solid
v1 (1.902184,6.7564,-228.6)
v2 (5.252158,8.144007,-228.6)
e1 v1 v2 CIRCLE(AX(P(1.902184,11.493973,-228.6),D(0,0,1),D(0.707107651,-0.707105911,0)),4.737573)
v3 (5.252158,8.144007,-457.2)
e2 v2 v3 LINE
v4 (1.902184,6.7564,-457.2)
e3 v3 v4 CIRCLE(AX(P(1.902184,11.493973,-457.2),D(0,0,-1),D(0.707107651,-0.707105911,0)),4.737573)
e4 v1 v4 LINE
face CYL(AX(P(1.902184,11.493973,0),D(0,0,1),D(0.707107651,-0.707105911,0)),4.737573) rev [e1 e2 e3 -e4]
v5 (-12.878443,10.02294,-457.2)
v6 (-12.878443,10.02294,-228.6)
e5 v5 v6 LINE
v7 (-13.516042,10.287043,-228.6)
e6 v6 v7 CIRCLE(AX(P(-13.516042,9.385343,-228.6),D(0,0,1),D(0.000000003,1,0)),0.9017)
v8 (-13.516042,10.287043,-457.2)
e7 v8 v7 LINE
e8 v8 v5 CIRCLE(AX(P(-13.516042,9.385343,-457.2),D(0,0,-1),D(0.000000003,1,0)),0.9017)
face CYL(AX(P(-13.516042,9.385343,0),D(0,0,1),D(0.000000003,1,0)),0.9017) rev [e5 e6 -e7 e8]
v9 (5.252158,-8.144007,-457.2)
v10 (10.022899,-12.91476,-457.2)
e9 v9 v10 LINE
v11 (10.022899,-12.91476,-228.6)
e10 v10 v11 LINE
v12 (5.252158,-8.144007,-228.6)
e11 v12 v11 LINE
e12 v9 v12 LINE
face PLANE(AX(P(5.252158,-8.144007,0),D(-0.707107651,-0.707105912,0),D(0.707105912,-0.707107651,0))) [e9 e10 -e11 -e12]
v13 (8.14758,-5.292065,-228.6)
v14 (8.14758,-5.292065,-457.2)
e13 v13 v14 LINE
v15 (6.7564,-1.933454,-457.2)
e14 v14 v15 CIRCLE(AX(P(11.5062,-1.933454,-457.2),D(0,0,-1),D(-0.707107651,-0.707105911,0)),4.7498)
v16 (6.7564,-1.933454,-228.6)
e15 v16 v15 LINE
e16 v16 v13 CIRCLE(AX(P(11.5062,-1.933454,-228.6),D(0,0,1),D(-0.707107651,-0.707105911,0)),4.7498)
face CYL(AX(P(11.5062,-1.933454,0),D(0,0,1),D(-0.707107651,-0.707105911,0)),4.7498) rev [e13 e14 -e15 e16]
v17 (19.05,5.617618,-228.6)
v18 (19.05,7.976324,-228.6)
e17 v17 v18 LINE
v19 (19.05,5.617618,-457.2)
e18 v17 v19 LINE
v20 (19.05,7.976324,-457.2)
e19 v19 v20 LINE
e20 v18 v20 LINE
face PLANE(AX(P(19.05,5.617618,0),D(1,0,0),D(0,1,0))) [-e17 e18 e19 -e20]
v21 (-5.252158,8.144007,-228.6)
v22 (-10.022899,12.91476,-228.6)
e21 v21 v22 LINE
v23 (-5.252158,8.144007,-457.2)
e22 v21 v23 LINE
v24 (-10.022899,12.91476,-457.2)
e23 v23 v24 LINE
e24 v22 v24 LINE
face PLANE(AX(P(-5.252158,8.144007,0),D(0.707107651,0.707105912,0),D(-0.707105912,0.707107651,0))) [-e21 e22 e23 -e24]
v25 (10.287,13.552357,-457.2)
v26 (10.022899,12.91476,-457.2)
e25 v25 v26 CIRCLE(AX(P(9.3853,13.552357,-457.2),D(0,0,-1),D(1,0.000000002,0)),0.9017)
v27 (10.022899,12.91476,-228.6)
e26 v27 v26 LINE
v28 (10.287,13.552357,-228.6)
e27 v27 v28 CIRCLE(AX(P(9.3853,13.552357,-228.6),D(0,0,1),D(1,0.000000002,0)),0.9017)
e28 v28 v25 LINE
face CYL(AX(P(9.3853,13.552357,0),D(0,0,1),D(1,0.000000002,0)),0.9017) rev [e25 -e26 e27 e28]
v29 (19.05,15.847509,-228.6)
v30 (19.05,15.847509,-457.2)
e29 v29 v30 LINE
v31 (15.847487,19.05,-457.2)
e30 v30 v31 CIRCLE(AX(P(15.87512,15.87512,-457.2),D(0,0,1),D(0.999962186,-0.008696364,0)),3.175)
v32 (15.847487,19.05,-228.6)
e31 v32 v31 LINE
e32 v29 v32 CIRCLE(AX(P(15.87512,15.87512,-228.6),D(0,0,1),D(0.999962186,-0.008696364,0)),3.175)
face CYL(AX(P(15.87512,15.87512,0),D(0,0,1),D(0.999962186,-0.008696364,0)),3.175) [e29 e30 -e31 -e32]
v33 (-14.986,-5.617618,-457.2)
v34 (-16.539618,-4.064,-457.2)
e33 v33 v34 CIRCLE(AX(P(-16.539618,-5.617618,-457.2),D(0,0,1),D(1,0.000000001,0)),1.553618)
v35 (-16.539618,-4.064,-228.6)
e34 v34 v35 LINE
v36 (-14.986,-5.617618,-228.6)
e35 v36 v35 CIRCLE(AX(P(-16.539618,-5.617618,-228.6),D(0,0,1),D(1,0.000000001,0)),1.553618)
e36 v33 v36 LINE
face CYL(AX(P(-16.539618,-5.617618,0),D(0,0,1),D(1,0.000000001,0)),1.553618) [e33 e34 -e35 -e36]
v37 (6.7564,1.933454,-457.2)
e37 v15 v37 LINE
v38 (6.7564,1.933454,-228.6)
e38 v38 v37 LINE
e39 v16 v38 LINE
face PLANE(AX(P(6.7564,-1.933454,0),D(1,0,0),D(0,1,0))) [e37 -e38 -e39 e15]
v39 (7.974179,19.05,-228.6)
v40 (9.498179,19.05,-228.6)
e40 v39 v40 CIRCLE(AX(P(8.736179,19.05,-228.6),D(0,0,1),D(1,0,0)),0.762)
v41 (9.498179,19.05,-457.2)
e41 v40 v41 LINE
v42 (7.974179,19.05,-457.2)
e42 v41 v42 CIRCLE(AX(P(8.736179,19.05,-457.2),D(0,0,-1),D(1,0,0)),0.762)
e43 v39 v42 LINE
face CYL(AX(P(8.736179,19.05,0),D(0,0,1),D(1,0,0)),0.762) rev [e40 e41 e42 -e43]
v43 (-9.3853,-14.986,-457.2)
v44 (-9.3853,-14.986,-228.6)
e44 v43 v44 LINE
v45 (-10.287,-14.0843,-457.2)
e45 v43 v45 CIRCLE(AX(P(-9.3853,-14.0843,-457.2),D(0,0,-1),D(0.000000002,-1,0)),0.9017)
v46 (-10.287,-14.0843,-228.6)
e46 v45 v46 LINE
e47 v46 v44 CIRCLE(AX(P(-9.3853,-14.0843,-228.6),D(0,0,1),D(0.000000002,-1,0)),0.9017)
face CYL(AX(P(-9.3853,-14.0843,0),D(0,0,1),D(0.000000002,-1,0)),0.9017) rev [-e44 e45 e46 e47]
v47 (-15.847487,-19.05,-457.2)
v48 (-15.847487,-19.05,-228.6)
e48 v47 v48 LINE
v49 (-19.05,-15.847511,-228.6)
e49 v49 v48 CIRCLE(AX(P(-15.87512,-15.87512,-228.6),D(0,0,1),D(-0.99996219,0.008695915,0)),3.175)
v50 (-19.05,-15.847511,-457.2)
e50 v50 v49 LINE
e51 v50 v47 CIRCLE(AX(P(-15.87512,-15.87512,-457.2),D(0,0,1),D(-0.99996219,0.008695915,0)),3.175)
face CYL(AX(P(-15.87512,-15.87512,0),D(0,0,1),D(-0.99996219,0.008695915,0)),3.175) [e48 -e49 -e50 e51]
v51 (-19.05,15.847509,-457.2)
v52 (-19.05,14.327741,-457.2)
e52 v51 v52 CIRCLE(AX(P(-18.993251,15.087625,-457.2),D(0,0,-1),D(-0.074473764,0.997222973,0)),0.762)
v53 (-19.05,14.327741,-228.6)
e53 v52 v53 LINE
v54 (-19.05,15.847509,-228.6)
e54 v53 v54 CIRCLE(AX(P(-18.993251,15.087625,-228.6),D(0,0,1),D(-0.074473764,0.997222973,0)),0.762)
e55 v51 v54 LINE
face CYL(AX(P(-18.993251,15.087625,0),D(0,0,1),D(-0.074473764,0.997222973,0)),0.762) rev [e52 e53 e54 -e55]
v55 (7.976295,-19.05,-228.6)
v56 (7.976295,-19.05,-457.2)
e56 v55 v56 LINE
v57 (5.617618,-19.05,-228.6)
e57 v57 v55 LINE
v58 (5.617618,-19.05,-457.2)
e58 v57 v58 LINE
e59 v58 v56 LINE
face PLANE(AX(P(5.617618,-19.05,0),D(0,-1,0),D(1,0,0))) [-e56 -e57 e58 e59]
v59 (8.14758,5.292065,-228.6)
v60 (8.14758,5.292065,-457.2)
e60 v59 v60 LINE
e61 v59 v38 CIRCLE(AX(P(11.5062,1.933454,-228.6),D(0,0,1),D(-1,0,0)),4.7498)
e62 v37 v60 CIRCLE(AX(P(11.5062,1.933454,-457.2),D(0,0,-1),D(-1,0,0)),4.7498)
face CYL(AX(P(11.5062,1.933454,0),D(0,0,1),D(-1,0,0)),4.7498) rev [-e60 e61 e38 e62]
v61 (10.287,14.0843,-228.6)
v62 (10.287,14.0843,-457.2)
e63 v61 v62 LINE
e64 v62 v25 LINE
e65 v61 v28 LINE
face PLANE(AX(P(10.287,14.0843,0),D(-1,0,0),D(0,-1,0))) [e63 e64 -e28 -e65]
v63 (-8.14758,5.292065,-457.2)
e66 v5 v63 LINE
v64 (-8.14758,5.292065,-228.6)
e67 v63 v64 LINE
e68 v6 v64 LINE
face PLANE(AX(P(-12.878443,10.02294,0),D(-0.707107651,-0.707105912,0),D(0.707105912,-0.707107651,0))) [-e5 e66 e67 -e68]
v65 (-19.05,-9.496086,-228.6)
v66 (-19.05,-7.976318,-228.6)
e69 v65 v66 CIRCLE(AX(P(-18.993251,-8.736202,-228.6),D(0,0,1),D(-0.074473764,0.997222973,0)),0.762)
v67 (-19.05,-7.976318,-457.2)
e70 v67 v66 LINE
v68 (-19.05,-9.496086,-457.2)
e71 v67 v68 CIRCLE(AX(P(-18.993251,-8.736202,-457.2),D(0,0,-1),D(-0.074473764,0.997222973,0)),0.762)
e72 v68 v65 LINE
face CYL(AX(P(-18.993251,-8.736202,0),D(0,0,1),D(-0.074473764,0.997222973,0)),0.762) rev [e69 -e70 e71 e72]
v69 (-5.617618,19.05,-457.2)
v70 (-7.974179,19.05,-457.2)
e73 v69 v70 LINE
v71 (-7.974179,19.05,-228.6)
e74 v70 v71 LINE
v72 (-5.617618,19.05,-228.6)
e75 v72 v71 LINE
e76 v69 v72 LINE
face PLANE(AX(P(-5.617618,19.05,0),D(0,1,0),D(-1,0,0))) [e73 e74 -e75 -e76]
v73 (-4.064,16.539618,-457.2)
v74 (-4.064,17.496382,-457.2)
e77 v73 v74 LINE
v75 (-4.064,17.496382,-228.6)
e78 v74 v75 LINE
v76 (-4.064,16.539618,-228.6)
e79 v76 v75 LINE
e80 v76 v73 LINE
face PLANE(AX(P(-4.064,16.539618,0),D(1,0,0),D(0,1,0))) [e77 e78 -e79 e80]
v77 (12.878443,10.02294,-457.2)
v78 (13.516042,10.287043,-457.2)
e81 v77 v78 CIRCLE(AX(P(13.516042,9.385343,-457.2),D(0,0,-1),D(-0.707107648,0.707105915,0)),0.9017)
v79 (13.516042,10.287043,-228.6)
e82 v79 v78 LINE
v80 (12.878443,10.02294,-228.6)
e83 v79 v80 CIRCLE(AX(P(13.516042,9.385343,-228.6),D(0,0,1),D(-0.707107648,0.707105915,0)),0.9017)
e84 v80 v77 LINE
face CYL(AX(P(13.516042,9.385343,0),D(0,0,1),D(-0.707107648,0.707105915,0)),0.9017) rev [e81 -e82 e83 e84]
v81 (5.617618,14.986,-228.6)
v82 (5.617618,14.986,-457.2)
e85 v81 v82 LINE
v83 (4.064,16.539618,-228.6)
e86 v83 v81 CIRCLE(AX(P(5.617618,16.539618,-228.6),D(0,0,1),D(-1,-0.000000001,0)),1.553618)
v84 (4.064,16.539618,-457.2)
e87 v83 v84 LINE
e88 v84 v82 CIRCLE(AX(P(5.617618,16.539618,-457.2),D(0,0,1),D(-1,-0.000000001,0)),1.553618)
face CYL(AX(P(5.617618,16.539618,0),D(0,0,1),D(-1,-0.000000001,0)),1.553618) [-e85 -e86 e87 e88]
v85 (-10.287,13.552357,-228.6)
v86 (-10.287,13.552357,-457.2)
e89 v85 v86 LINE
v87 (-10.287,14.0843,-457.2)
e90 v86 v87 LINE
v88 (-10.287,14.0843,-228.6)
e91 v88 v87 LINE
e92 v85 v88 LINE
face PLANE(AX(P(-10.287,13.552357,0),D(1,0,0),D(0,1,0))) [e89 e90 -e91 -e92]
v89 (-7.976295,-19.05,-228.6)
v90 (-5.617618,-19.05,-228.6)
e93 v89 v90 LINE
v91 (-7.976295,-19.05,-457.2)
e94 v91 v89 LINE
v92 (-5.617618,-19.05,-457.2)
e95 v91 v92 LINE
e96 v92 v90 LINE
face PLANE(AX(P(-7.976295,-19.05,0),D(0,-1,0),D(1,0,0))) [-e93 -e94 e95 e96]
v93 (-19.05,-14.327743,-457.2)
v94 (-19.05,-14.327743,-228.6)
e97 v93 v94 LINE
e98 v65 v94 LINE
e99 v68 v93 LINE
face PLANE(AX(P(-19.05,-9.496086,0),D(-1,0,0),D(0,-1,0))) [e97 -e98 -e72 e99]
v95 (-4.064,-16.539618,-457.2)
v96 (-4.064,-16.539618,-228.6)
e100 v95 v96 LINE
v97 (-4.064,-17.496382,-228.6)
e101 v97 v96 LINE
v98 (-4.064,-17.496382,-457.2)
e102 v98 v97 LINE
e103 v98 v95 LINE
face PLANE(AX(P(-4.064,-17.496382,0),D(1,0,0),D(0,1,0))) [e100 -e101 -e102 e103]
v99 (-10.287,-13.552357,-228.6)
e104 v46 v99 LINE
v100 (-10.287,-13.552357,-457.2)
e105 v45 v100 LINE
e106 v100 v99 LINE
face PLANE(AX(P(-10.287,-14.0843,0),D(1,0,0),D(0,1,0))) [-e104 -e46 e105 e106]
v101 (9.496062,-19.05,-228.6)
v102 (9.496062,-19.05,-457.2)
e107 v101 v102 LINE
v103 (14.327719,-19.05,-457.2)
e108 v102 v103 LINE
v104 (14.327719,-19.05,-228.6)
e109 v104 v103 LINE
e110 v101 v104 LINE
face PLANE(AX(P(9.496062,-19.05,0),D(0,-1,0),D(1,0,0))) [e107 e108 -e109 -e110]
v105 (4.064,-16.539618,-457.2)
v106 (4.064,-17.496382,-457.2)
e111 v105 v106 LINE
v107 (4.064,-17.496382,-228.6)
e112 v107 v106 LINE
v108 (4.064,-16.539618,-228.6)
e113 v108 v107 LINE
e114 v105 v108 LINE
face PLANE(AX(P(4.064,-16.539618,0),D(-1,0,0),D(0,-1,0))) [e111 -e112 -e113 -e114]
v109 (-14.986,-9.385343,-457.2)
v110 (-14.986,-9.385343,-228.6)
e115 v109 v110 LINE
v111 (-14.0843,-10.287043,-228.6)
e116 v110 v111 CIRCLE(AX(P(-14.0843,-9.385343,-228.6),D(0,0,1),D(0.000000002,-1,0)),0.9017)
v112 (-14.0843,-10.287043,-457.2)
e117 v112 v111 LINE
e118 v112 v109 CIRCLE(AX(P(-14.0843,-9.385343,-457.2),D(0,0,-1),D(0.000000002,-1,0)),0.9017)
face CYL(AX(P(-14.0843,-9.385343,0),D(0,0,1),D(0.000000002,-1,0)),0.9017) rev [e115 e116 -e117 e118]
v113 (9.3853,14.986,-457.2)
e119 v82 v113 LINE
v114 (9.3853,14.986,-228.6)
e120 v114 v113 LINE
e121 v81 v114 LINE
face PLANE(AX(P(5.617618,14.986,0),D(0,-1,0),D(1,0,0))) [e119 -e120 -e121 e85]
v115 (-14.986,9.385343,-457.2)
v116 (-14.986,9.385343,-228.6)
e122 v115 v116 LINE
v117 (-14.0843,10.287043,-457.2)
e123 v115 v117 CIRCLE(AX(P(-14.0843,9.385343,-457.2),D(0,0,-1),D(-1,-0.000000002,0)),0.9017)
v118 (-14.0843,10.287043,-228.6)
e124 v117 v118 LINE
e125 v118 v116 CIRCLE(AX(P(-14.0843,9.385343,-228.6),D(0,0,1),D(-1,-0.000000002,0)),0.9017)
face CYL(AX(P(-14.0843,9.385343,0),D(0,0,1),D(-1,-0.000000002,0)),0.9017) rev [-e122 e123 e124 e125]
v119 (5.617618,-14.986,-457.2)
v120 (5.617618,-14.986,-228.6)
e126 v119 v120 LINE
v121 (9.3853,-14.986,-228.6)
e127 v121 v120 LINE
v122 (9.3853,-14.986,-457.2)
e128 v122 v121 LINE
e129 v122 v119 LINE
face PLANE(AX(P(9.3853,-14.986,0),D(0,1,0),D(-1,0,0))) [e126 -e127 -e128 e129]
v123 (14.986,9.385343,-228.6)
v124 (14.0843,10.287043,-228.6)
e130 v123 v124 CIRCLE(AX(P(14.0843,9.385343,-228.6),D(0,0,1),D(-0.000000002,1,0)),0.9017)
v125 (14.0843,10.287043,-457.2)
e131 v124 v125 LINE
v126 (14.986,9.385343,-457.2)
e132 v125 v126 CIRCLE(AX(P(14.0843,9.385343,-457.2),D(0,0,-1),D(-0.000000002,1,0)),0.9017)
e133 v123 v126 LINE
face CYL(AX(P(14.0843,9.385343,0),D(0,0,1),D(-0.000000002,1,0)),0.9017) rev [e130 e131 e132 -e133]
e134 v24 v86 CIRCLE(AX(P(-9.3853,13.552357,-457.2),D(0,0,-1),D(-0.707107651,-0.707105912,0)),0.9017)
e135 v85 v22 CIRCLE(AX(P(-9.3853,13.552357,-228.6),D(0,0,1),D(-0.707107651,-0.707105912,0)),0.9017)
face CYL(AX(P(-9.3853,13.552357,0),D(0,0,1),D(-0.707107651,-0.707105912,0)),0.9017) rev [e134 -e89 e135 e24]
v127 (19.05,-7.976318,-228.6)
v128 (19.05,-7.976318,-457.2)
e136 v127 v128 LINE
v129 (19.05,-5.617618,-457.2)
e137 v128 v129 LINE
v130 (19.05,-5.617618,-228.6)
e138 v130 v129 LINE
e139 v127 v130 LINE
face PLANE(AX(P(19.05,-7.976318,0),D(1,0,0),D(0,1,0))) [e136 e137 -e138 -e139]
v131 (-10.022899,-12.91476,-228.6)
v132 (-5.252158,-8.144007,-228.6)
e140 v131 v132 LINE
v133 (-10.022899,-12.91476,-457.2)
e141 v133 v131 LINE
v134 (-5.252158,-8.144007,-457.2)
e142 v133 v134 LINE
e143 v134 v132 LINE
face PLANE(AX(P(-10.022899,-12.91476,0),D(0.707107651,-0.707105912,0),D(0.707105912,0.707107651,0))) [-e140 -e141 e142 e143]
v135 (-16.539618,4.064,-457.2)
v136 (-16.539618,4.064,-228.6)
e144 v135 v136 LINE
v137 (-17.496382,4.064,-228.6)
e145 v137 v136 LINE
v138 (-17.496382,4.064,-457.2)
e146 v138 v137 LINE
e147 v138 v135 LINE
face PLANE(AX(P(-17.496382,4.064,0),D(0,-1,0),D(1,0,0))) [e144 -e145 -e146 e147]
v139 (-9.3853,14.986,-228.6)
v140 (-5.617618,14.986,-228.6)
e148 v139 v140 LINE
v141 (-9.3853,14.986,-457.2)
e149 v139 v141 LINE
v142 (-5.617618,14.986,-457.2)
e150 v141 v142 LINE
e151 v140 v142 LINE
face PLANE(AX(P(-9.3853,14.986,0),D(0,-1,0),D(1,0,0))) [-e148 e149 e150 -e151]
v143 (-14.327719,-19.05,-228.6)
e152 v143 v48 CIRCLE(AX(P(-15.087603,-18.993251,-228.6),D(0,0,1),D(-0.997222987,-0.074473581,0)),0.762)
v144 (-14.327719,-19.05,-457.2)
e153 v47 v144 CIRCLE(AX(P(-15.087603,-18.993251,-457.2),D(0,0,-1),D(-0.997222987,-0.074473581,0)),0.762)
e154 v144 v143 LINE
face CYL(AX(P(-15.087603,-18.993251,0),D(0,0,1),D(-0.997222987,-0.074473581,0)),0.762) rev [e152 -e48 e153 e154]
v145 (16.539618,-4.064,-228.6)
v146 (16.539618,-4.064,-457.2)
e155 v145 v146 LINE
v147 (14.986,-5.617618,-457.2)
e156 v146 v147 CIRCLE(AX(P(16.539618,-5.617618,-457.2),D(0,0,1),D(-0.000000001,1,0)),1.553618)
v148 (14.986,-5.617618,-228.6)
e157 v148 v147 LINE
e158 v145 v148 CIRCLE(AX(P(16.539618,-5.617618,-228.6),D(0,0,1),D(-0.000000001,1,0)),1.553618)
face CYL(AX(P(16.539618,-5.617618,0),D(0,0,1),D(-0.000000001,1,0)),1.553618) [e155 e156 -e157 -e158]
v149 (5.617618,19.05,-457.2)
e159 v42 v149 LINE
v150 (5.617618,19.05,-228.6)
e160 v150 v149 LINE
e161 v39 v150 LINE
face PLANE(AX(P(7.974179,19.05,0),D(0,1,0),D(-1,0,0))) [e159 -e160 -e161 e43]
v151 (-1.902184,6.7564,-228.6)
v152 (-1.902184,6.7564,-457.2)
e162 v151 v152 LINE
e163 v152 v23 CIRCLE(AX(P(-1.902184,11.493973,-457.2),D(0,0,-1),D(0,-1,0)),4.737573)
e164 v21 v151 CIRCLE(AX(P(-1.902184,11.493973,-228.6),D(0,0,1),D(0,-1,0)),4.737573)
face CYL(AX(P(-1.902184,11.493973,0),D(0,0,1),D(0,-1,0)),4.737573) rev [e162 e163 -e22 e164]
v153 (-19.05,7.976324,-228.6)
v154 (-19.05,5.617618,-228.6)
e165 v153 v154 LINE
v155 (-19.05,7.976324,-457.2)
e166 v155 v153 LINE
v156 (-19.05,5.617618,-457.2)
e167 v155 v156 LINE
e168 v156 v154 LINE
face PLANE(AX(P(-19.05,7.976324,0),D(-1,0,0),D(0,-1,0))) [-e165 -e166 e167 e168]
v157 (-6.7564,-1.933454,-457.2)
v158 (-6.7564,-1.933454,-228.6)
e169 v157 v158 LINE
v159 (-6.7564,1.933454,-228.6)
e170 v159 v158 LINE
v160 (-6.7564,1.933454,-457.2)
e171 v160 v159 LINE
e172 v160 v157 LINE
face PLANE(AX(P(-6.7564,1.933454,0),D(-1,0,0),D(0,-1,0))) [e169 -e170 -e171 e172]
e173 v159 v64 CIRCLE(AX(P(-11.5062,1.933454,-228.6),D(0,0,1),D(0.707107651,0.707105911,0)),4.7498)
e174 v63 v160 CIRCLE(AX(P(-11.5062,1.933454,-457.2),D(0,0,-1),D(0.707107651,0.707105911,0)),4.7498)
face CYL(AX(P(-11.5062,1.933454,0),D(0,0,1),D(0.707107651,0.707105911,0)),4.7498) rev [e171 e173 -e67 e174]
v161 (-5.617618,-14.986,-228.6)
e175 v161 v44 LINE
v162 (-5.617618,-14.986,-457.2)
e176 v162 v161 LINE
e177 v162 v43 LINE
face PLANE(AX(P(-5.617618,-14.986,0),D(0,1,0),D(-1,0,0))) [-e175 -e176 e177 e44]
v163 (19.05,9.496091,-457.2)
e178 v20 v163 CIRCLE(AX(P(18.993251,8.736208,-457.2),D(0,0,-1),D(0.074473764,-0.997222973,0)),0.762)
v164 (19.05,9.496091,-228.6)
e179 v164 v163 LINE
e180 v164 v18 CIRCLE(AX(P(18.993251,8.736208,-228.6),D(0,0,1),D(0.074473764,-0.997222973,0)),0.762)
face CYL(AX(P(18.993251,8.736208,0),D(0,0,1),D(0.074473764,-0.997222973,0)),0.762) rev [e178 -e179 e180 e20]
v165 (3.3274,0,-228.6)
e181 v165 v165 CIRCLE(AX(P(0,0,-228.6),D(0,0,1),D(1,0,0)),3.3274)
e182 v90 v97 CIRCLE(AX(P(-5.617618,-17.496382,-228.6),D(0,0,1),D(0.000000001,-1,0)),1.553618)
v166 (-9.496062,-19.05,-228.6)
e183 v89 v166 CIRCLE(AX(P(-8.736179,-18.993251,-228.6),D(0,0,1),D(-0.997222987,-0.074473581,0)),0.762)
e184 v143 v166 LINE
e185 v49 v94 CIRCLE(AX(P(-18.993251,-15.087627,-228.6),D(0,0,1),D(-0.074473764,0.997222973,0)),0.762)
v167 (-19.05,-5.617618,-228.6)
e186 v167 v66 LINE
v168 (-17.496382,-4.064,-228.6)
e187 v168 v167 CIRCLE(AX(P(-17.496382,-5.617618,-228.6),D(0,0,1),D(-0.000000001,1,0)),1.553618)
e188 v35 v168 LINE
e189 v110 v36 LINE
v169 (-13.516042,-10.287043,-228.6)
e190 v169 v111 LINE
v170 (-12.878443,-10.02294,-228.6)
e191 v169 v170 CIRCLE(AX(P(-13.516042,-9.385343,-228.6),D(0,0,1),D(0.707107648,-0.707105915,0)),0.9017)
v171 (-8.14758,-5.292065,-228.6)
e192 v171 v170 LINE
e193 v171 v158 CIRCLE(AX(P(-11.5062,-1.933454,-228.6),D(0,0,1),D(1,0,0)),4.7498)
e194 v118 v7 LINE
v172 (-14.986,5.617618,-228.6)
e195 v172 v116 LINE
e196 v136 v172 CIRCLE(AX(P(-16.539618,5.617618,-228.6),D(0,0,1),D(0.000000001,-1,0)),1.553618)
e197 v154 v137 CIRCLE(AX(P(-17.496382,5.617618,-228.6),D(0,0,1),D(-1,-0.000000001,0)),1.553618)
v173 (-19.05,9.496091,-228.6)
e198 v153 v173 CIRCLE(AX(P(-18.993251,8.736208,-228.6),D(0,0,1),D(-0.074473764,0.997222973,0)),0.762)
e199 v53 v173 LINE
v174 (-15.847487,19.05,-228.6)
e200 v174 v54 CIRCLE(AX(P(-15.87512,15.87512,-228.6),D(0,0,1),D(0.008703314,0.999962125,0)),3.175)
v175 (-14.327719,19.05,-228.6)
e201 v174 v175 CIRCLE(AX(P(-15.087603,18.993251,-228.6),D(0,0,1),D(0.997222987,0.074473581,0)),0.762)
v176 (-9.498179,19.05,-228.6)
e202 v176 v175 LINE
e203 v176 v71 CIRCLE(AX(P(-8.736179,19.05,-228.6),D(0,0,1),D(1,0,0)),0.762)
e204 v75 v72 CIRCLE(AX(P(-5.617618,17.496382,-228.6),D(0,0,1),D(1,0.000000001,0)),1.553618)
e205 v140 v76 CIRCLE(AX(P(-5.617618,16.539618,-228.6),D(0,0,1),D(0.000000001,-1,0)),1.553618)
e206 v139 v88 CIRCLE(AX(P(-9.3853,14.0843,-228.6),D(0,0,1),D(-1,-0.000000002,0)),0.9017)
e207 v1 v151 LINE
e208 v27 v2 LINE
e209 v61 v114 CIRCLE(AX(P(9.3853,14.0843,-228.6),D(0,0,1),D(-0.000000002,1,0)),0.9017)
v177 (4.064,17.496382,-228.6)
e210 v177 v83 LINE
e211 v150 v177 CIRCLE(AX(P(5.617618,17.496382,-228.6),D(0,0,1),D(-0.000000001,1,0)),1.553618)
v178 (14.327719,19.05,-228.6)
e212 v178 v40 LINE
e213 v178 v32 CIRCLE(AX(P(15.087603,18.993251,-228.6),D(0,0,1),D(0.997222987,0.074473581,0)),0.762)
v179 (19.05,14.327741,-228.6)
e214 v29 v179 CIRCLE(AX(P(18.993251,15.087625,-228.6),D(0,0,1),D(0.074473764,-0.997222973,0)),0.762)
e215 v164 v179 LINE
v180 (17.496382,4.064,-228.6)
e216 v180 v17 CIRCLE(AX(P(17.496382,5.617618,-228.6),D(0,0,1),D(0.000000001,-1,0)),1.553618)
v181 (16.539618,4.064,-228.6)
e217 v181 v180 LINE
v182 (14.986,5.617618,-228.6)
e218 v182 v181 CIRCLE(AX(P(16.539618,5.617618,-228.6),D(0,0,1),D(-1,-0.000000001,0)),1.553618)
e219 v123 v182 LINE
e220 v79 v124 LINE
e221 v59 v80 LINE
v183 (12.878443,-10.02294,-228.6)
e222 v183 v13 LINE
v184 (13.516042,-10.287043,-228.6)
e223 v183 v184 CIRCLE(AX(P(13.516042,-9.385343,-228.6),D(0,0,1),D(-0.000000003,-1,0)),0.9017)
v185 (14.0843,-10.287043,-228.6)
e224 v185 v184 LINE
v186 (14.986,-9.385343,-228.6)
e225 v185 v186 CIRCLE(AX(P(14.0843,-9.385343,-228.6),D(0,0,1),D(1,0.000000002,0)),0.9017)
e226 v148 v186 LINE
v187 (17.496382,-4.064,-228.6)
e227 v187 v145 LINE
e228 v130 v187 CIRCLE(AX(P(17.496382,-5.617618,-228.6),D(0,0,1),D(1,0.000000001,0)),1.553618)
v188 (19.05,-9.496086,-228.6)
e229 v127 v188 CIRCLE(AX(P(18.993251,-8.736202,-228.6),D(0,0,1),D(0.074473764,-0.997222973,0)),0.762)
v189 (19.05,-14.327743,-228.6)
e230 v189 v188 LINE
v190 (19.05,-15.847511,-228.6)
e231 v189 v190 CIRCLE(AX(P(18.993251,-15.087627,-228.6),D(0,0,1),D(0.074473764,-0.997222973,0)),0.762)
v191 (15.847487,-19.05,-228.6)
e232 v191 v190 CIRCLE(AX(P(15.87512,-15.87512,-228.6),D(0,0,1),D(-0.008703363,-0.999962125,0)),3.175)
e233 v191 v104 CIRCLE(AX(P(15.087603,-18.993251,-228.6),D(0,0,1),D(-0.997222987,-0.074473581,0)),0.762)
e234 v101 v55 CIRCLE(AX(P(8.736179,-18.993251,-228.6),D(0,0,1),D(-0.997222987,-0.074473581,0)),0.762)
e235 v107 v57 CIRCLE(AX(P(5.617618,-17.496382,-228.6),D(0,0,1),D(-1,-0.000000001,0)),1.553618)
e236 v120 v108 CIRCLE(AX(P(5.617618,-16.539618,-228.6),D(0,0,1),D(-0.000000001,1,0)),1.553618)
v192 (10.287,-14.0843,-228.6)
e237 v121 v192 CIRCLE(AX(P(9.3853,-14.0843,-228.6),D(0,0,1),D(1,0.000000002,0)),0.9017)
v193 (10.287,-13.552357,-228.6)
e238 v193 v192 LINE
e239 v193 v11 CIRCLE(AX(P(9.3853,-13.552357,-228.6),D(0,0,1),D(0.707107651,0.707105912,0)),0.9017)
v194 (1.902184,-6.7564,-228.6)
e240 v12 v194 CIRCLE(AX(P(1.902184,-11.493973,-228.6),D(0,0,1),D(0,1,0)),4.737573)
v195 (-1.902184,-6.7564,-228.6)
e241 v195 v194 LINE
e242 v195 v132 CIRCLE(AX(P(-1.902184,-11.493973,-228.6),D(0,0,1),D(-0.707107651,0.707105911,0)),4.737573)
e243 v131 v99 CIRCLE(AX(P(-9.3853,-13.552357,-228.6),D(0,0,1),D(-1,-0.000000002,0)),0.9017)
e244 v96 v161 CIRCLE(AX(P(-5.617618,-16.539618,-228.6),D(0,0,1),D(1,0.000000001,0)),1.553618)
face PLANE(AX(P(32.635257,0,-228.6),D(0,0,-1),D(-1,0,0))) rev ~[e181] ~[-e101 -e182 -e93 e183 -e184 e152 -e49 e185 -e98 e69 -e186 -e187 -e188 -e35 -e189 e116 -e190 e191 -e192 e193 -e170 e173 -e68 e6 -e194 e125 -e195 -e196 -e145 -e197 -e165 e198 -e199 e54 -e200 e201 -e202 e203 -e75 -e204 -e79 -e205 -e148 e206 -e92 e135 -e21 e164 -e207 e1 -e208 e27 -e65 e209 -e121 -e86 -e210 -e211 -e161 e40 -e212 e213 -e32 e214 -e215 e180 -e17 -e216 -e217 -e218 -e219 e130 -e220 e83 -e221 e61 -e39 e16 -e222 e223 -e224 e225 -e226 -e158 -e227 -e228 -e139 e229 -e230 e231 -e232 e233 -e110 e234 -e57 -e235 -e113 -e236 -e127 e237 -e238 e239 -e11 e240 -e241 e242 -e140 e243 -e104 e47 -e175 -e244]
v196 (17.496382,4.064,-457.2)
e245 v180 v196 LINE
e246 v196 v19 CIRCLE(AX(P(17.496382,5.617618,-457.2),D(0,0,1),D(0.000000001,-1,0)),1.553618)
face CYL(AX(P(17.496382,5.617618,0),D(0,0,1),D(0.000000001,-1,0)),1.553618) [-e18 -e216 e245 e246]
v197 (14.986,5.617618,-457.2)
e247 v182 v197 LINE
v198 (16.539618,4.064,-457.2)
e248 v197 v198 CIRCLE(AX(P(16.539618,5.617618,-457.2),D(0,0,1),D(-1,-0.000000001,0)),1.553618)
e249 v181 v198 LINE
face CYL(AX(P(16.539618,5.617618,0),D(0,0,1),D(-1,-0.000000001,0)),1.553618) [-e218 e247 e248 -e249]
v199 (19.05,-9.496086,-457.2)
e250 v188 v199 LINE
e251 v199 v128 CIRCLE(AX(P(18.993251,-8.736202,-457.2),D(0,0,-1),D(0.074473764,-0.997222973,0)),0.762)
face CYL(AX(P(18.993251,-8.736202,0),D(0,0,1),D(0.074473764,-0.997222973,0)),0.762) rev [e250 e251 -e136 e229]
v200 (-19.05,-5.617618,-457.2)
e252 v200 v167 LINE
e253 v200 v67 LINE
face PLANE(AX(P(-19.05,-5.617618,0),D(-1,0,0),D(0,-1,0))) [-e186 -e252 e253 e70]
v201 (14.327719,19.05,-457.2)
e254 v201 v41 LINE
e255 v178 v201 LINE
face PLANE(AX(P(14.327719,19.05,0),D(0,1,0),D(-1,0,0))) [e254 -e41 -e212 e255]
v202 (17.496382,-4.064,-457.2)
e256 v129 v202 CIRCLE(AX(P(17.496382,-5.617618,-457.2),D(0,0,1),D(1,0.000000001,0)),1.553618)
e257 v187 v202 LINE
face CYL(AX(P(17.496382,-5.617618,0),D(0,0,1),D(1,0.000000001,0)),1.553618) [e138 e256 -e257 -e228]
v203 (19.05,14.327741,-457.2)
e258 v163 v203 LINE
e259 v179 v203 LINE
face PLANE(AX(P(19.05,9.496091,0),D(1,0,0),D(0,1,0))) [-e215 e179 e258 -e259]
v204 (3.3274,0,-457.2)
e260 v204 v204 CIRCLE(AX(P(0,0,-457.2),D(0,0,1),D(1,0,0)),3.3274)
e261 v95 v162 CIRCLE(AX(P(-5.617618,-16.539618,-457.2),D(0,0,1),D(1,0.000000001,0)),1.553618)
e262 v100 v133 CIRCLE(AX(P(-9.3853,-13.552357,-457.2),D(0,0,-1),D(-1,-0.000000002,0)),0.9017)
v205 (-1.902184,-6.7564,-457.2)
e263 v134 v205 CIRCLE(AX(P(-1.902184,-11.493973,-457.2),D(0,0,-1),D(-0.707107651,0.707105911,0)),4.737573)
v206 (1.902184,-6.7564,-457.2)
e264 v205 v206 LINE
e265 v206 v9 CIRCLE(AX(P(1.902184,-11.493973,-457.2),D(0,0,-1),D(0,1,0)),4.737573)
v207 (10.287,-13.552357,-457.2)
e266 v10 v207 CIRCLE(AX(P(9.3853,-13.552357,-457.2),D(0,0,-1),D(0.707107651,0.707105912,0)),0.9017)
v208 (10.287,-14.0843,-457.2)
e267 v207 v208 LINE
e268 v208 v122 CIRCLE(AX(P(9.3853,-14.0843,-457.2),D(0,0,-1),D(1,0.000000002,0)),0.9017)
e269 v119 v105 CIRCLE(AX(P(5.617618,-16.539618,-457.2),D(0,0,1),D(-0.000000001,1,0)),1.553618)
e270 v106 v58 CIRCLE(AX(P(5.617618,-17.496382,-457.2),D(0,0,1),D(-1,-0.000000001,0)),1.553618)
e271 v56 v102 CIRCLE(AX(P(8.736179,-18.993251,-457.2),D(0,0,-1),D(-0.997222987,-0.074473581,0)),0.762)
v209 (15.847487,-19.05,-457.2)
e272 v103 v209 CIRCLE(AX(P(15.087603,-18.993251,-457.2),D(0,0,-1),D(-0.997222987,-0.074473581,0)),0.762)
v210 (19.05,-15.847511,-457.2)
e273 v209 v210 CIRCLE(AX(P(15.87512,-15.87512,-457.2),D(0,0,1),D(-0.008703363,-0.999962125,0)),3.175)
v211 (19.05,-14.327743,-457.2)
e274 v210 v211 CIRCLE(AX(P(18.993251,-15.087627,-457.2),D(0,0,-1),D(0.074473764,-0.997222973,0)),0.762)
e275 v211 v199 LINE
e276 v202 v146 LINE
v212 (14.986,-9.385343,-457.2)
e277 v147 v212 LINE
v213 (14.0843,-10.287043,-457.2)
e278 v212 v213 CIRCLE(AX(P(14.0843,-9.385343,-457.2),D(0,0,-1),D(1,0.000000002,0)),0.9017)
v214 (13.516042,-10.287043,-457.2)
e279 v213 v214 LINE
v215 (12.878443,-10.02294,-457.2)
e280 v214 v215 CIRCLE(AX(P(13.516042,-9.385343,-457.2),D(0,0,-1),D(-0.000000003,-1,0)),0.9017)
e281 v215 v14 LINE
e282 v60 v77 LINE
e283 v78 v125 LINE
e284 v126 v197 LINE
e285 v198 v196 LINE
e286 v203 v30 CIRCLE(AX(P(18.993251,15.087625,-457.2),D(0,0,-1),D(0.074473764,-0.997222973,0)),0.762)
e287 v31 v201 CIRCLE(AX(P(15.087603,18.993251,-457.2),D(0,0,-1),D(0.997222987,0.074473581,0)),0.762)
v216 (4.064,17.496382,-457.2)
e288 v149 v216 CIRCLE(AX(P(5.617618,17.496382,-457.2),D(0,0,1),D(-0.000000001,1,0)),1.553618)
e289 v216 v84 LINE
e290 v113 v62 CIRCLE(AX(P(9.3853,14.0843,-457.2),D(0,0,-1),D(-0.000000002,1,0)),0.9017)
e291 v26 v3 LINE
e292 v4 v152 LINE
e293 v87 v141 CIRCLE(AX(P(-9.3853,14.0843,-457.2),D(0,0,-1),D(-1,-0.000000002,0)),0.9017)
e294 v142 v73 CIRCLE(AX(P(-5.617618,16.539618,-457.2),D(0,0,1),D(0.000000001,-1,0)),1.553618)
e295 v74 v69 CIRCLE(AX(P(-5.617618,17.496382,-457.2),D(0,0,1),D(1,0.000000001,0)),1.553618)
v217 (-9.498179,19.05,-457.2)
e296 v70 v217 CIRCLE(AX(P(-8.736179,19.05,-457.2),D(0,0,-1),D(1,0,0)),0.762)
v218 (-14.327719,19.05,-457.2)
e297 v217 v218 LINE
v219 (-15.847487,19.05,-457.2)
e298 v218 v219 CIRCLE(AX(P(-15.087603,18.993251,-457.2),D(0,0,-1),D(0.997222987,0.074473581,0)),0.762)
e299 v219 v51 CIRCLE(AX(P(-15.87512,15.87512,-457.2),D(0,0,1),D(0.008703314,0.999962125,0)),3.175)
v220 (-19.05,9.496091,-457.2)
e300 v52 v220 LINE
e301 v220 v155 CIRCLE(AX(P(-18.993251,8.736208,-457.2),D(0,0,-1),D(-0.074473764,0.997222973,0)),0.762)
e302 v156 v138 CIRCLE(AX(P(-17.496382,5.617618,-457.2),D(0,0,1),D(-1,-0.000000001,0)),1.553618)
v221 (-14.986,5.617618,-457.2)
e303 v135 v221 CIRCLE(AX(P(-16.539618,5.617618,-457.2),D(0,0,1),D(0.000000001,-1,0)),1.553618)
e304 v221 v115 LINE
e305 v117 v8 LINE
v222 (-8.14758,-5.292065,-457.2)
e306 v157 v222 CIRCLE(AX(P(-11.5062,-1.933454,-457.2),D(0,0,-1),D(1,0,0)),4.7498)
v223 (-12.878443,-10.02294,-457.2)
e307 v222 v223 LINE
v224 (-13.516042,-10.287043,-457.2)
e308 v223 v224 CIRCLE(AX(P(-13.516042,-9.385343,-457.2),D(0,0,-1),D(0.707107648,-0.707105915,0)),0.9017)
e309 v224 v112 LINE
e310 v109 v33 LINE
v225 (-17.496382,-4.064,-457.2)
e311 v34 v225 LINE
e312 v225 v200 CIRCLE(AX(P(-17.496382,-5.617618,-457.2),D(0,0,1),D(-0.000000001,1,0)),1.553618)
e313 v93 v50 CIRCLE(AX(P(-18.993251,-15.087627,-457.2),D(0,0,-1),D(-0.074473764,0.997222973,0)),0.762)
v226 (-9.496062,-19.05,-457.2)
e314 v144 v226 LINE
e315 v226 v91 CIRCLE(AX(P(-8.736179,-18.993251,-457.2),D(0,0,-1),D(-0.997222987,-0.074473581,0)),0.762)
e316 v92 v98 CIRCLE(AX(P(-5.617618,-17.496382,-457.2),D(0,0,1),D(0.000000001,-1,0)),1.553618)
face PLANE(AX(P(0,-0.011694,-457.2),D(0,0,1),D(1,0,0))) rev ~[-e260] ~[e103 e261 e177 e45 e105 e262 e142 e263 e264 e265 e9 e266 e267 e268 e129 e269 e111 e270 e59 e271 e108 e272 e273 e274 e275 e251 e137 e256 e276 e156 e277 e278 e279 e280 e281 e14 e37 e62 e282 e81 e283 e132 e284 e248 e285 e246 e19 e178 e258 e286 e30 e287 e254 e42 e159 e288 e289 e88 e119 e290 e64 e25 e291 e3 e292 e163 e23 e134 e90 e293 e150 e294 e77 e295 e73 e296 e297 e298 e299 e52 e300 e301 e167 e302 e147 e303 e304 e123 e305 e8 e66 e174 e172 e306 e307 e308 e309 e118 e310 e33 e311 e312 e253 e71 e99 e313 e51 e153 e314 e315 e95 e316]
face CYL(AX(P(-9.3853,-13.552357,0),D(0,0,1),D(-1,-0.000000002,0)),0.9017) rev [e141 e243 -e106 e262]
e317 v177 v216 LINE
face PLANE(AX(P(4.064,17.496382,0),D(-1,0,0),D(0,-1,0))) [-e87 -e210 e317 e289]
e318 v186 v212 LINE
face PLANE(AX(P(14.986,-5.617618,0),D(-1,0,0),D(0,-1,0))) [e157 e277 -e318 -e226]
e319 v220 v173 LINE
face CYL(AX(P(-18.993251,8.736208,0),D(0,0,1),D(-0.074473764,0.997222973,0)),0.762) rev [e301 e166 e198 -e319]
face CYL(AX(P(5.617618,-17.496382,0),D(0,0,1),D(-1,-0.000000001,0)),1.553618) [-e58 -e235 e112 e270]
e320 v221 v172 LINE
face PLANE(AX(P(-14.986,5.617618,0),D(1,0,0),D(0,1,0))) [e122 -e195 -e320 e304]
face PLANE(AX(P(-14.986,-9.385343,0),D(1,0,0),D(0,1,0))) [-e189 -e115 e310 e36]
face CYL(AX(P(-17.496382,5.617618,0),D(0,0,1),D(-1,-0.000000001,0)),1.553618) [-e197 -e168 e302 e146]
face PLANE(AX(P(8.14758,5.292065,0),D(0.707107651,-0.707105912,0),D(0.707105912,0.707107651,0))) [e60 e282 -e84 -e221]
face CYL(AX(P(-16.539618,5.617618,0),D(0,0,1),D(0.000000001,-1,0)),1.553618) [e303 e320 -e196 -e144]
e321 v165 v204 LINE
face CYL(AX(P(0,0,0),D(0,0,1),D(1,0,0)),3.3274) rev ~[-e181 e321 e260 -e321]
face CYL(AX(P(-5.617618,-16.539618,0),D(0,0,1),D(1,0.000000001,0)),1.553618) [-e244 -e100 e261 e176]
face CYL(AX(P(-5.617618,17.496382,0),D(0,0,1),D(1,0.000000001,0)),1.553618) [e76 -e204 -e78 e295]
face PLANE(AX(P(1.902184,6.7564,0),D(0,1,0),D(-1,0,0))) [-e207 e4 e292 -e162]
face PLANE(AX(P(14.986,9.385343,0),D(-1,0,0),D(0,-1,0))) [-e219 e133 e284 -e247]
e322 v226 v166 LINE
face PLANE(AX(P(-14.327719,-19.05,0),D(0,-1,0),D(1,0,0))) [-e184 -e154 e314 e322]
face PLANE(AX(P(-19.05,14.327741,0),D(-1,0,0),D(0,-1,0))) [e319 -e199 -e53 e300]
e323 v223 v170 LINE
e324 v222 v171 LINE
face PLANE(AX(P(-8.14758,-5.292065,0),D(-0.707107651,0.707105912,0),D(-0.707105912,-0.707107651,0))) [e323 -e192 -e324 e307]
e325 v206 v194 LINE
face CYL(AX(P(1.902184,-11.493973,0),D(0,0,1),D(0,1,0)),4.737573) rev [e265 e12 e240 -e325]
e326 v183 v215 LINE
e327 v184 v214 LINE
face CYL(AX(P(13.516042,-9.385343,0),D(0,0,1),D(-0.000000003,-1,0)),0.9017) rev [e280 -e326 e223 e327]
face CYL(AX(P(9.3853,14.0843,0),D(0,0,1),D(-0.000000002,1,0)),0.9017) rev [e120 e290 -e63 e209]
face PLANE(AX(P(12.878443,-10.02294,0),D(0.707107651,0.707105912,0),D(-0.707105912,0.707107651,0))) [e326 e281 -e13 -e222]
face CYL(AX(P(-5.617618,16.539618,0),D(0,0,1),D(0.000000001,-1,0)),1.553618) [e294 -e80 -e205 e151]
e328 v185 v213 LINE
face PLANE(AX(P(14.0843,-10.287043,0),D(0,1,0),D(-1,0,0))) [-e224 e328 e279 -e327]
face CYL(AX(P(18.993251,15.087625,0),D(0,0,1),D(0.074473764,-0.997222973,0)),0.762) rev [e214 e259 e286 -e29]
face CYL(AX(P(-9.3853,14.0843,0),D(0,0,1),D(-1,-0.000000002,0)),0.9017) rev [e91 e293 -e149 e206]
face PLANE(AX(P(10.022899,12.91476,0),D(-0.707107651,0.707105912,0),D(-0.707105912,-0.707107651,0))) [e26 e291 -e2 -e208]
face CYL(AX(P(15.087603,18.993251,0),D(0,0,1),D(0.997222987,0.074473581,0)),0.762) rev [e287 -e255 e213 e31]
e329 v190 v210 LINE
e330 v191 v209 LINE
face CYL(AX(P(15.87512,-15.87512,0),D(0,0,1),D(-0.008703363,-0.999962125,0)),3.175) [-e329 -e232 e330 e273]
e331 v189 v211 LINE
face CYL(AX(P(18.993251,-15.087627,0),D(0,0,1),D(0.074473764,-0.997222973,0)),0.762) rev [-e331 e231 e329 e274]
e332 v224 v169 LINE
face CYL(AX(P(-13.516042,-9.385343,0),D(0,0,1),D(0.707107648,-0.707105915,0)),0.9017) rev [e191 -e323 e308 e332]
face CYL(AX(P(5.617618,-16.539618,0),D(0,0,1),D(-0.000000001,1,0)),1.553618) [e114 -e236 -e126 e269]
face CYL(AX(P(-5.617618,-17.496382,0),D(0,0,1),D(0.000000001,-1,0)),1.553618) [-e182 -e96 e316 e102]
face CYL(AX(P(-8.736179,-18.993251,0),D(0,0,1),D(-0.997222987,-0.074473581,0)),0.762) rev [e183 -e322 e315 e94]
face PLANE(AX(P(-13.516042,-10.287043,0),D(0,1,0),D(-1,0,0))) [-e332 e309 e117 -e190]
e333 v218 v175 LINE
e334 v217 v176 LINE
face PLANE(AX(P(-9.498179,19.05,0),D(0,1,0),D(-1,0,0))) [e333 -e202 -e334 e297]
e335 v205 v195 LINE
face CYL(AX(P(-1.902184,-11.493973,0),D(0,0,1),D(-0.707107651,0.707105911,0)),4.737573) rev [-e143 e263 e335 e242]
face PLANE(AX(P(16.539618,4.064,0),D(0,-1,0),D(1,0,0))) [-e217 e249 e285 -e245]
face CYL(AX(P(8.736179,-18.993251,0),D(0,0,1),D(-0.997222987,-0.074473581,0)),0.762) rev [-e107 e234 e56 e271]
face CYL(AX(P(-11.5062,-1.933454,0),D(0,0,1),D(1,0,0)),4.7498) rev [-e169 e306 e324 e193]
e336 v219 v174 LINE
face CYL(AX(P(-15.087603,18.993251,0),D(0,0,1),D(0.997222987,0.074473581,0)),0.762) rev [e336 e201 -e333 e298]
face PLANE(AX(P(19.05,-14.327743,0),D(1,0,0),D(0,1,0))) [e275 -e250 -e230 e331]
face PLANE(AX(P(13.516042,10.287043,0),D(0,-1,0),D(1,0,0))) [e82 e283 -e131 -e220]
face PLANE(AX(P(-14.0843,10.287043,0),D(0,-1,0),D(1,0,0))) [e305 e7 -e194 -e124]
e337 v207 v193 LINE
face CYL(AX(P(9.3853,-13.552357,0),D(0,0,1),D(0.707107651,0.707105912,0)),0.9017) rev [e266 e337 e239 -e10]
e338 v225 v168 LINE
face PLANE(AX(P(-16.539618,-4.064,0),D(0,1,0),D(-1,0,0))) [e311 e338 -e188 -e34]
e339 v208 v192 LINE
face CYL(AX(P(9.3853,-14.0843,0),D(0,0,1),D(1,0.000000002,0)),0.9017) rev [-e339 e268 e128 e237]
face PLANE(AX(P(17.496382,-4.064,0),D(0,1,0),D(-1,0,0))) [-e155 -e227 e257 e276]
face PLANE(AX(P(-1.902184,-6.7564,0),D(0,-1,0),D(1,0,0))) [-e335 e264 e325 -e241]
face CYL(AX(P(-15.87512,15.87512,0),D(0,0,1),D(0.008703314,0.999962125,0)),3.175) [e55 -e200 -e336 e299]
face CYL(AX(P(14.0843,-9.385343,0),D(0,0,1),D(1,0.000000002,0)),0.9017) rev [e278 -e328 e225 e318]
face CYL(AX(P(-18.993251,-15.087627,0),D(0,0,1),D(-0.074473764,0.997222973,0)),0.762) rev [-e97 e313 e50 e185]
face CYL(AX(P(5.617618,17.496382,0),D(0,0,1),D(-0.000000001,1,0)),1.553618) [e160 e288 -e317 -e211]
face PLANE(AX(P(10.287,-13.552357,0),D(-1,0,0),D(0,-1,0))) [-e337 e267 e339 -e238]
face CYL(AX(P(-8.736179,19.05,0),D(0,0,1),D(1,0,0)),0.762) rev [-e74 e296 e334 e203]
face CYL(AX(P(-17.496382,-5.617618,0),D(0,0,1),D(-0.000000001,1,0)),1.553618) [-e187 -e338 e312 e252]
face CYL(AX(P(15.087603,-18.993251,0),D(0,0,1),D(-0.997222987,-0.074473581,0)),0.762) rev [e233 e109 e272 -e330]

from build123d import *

# Parameters (mm, degrees)
SKETCH3_R                = 3.3274
BOSS_EXTRUDE1_DEPTH      = 457.2
BOSS_EXTRUDE1_DEPTH_BACK = 457.2
CUT_EXTRUDE1_DEPTH       = 22.86


with BuildPart() as part:
    # Sketch3 → Boss-Extrude1 (new body, two sides)
    with BuildSketch(Plane.XY) as boss_extrude1_sk:
        with BuildLine():
            Line((-4.064, 16.539617549), (-4.064, 17.496382451))
            ThreePointArc((-4.064, 17.496382451), (-4.519044045, 18.594955955), (-5.617617549, 19.05))
            Line((-5.617617549, 19.05), (-7.974178704, 19.05))
            ThreePointArc((-7.974178704, 19.05), (-8.736178704, 18.288), (-9.498178704, 19.05))
            Line((-9.498178704, 19.05), (-14.327719207, 19.05))
            ThreePointArc((-14.327719207, 19.05), (-15.087603123, 18.231251131), (-15.847487039, 19.05))
            ThreePointArc((-15.847487039, 19.05), (-18.120176289, 18.120192083), (-19.05, 15.847509295))
            ThreePointArc((-19.05, 15.847509295), (-18.231250992, 15.08762539), (-19.05, 14.327741484))
            Line((-19.05, 14.327741484), (-19.05, 9.496091471))
            ThreePointArc((-19.05, 9.496091471), (-18.231250992, 8.736207565), (-19.05, 7.97632366))
            Line((-19.05, 7.97632366), (-19.05, 5.617617549))
            ThreePointArc((-19.05, 5.617617549), (-18.594955955, 4.519044045), (-17.496382451, 4.064))
            Line((-17.496382451, 4.064), (-16.539617549, 4.064))
            ThreePointArc((-16.539617549, 4.064), (-15.441044045, 4.519044045), (-14.986, 5.617617549))
            Line((-14.986, 5.617617549), (-14.986, 9.385342516))
            ThreePointArc((-14.986, 9.385342516), (-14.721898185, 10.022940701), (-14.0843, 10.287042516))
            Line((-14.0843, 10.287042516), (-13.516042086, 10.287042516))
            ThreePointArc((-13.516042086, 10.287042516), (-13.170975923, 10.218404478), (-12.878443117, 10.022939917))
            Line((-12.878443117, 10.022939917), (-8.14758008, 5.292065243))
            ThreePointArc((-8.14758008, 5.292065243), (-7.117955879, 3.751120653), (-6.7564, 1.933453584))
            Line((-6.7564, 1.933453584), (-6.7564, -1.933453584))
            ThreePointArc((-6.7564, -1.933453584), (-7.117955879, -3.751120653), (-8.14758008, -5.292065243))
            Line((-8.14758008, -5.292065243), (-12.878443117, -10.022939917))
            ThreePointArc((-12.878443117, -10.022939917), (-13.170975923, -10.218404478), (-13.516042086, -10.287042516))
            Line((-13.516042086, -10.287042516), (-14.0843, -10.287042516))
            ThreePointArc((-14.0843, -10.287042516), (-14.721898185, -10.022940701), (-14.986, -9.385342516))
            Line((-14.986, -9.385342516), (-14.986, -5.617617549))
            ThreePointArc((-14.986, -5.617617549), (-15.441044045, -4.519044045), (-16.539617549, -4.064))
            Line((-16.539617549, -4.064), (-17.496382451, -4.064))
            ThreePointArc((-17.496382451, -4.064), (-18.594955955, -4.519044045), (-19.05, -5.617617549))
            Line((-19.05, -5.617617549), (-19.05, -7.976318491))
            ThreePointArc((-19.05, -7.976318491), (-18.231250992, -8.736202396), (-19.05, -9.496086302))
            Line((-19.05, -9.496086302), (-19.05, -14.32774291))
            ThreePointArc((-19.05, -14.32774291), (-18.231250992, -15.087626816), (-19.05, -15.847510721))
            ThreePointArc((-19.05, -15.847510721), (-18.120175716, -18.120192644), (-15.847486868, -19.05))
            ThreePointArc((-15.847486868, -19.05), (-15.087602952, -18.231251131), (-14.327719036, -19.05))
            Line((-14.327719036, -19.05), (-9.496062448, -19.05))
            ThreePointArc((-9.496062448, -19.05), (-8.736178532, -18.231251131), (-7.976294616, -19.05))
            Line((-7.976294616, -19.05), (-5.617617549, -19.05))
            ThreePointArc((-5.617617549, -19.05), (-4.519044045, -18.594955955), (-4.064, -17.496382451))
            Line((-4.064, -17.496382451), (-4.064, -16.539617549))
            ThreePointArc((-4.064, -16.539617549), (-4.519044045, -15.441044045), (-5.617617549, -14.986))
            Line((-5.617617549, -14.986), (-9.3853, -14.986))
            ThreePointArc((-9.3853, -14.986), (-10.022898185, -14.721898185), (-10.287, -14.0843))
            Line((-10.287, -14.0843), (-10.287, -13.552357131))
            ThreePointArc((-10.287, -13.552357131), (-10.218362387, -13.207291992), (-10.022898969, -12.91475973))
            Line((-10.022898969, -12.91475973), (-5.252158105, -8.144007132))
            ThreePointArc((-5.252158105, -8.144007132), (-3.715177372, -7.117027388), (-1.902183975, -6.7564))
            Line((-1.902183975, -6.7564), (1.902183975, -6.7564))
            ThreePointArc((1.902183975, -6.7564), (3.715177372, -7.117027388), (5.252158105, -8.144007132))
            Line((5.252158105, -8.144007132), (10.022898969, -12.91475973))
            ThreePointArc((10.022898969, -12.91475973), (10.218362387, -13.207291992), (10.287, -13.552357131))
            Line((10.287, -13.552357131), (10.287, -14.0843))
            ThreePointArc((10.287, -14.0843), (10.022898185, -14.721898185), (9.3853, -14.986))
            Line((9.3853, -14.986), (5.617617549, -14.986))
            ThreePointArc((5.617617549, -14.986), (4.519044045, -15.441044045), (4.064, -16.539617549))
            Line((4.064, -16.539617549), (4.064, -17.496382451))
            ThreePointArc((4.064, -17.496382451), (4.519044045, -18.594955955), (5.617617549, -19.05))
            Line((5.617617549, -19.05), (7.976294616, -19.05))
            ThreePointArc((7.976294616, -19.05), (8.736178532, -18.231251131), (9.496062448, -19.05))
            Line((9.496062448, -19.05), (14.327719036, -19.05))
            ThreePointArc((14.327719036, -19.05), (15.087602952, -18.231251131), (15.847486868, -19.05))
            ThreePointArc((15.847486868, -19.05), (18.120175716, -18.120192644), (19.05, -15.847510721))
            ThreePointArc((19.05, -15.847510721), (18.231250992, -15.087626816), (19.05, -14.32774291))
            Line((19.05, -14.32774291), (19.05, -9.496086302))
            ThreePointArc((19.05, -9.496086302), (18.231250992, -8.736202396), (19.05, -7.976318491))
            Line((19.05, -7.976318491), (19.05, -5.617617549))
            ThreePointArc((19.05, -5.617617549), (18.594955955, -4.519044045), (17.496382451, -4.064))
            Line((17.496382451, -4.064), (16.539617549, -4.064))
            ThreePointArc((16.539617549, -4.064), (15.441044045, -4.519044045), (14.986, -5.617617549))
            Line((14.986, -5.617617549), (14.986, -9.385342516))
            ThreePointArc((14.986, -9.385342516), (14.721898185, -10.022940701), (14.0843, -10.287042516))
            Line((14.0843, -10.287042516), (13.516042086, -10.287042516))
            ThreePointArc((13.516042086, -10.287042516), (13.170975923, -10.218404478), (12.878443117, -10.022939917))
            Line((12.878443117, -10.022939917), (8.14758008, -5.292065243))
            ThreePointArc((8.14758008, -5.292065243), (7.117955879, -3.751120653), (6.7564, -1.933453584))
            Line((6.7564, -1.933453584), (6.7564, 1.933453584))
            ThreePointArc((6.7564, 1.933453584), (7.117955879, 3.751120653), (8.14758008, 5.292065243))
            Line((8.14758008, 5.292065243), (12.878443117, 10.022939917))
            ThreePointArc((12.878443117, 10.022939917), (13.170975923, 10.218404478), (13.516042086, 10.287042516))
            Line((13.516042086, 10.287042516), (14.0843, 10.287042516))
            ThreePointArc((14.0843, 10.287042516), (14.721898185, 10.022940701), (14.986, 9.385342516))
            Line((14.986, 9.385342516), (14.986, 5.617617549))
            ThreePointArc((14.986, 5.617617549), (15.441044045, 4.519044045), (16.539617549, 4.064))
            Line((16.539617549, 4.064), (17.496382451, 4.064))
            ThreePointArc((17.496382451, 4.064), (18.594955955, 4.519044045), (19.05, 5.617617549))
            Line((19.05, 5.617617549), (19.05, 7.97632366))
            ThreePointArc((19.05, 7.97632366), (18.231250992, 8.736207565), (19.05, 9.496091471))
            Line((19.05, 9.496091471), (19.05, 14.327741484))
            ThreePointArc((19.05, 14.327741484), (18.231250992, 15.08762539), (19.05, 15.847509295))
            ThreePointArc((19.05, 15.847509295), (18.120176289, 18.120192083), (15.847487039, 19.05))
            ThreePointArc((15.847487039, 19.05), (15.087603123, 18.231251131), (14.327719207, 19.05))
            Line((14.327719207, 19.05), (9.498178704, 19.05))
            ThreePointArc((9.498178704, 19.05), (8.736178704, 18.288), (7.974178704, 19.05))
            Line((7.974178704, 19.05), (5.617617549, 19.05))
            ThreePointArc((5.617617549, 19.05), (4.519044045, 18.594955955), (4.064, 17.496382451))
            Line((4.064, 17.496382451), (4.064, 16.539617549))
            ThreePointArc((4.064, 16.539617549), (4.519044045, 15.441044045), (5.617617549, 14.986))
            Line((5.617617549, 14.986), (9.3853, 14.986))
            ThreePointArc((9.3853, 14.986), (10.022898185, 14.721898185), (10.287, 14.0843))
            Line((10.287, 14.0843), (10.287, 13.552357131))
            ThreePointArc((10.287, 13.552357131), (10.218362387, 13.207291992), (10.022898969, 12.91475973))
            Line((10.022898969, 12.91475973), (5.252158105, 8.144007132))
            ThreePointArc((5.252158105, 8.144007132), (3.715177372, 7.117027388), (1.902183975, 6.7564))
            Line((1.902183975, 6.7564), (-1.902183975, 6.7564))
            ThreePointArc((-1.902183975, 6.7564), (-3.715177372, 7.117027388), (-5.252158105, 8.144007132))
            Line((-5.252158105, 8.144007132), (-10.022898969, 12.91475973))
            ThreePointArc((-10.022898969, 12.91475973), (-10.218362387, 13.207291992), (-10.287, 13.552357131))
            Line((-10.287, 13.552357131), (-10.287, 14.0843))
            ThreePointArc((-10.287, 14.0843), (-10.022898185, 14.721898185), (-9.3853, 14.986))
            Line((-9.3853, 14.986), (-5.617617549, 14.986))
            ThreePointArc((-5.617617549, 14.986), (-4.519044045, 15.441044045), (-4.064, 16.539617549))
        make_face()
        Circle(SKETCH3_R, mode=Mode.SUBTRACT)
    extrude(amount=BOSS_EXTRUDE1_DEPTH)
    extrude(boss_extrude1_sk.sketch, amount=-BOSS_EXTRUDE1_DEPTH_BACK)

    # Sketch4 → Cut-Extrude1 (cut, symmetric)
    with BuildSketch(Plane(origin=(0, 0, 0), x_dir=(1, 0, 0), z_dir=(0, 1, 0))):
        Polygon((-11.912948955, 228.6), (-26.025980117, 228.6), (-26.025980117, -478.373467622), (32.635256624, -478.373467622), (32.635256624, 228.6), align=None)
    extrude(amount=CUT_EXTRUDE1_DEPTH, both=True, mode=Mode.SUBTRACT)


solid = part.part
